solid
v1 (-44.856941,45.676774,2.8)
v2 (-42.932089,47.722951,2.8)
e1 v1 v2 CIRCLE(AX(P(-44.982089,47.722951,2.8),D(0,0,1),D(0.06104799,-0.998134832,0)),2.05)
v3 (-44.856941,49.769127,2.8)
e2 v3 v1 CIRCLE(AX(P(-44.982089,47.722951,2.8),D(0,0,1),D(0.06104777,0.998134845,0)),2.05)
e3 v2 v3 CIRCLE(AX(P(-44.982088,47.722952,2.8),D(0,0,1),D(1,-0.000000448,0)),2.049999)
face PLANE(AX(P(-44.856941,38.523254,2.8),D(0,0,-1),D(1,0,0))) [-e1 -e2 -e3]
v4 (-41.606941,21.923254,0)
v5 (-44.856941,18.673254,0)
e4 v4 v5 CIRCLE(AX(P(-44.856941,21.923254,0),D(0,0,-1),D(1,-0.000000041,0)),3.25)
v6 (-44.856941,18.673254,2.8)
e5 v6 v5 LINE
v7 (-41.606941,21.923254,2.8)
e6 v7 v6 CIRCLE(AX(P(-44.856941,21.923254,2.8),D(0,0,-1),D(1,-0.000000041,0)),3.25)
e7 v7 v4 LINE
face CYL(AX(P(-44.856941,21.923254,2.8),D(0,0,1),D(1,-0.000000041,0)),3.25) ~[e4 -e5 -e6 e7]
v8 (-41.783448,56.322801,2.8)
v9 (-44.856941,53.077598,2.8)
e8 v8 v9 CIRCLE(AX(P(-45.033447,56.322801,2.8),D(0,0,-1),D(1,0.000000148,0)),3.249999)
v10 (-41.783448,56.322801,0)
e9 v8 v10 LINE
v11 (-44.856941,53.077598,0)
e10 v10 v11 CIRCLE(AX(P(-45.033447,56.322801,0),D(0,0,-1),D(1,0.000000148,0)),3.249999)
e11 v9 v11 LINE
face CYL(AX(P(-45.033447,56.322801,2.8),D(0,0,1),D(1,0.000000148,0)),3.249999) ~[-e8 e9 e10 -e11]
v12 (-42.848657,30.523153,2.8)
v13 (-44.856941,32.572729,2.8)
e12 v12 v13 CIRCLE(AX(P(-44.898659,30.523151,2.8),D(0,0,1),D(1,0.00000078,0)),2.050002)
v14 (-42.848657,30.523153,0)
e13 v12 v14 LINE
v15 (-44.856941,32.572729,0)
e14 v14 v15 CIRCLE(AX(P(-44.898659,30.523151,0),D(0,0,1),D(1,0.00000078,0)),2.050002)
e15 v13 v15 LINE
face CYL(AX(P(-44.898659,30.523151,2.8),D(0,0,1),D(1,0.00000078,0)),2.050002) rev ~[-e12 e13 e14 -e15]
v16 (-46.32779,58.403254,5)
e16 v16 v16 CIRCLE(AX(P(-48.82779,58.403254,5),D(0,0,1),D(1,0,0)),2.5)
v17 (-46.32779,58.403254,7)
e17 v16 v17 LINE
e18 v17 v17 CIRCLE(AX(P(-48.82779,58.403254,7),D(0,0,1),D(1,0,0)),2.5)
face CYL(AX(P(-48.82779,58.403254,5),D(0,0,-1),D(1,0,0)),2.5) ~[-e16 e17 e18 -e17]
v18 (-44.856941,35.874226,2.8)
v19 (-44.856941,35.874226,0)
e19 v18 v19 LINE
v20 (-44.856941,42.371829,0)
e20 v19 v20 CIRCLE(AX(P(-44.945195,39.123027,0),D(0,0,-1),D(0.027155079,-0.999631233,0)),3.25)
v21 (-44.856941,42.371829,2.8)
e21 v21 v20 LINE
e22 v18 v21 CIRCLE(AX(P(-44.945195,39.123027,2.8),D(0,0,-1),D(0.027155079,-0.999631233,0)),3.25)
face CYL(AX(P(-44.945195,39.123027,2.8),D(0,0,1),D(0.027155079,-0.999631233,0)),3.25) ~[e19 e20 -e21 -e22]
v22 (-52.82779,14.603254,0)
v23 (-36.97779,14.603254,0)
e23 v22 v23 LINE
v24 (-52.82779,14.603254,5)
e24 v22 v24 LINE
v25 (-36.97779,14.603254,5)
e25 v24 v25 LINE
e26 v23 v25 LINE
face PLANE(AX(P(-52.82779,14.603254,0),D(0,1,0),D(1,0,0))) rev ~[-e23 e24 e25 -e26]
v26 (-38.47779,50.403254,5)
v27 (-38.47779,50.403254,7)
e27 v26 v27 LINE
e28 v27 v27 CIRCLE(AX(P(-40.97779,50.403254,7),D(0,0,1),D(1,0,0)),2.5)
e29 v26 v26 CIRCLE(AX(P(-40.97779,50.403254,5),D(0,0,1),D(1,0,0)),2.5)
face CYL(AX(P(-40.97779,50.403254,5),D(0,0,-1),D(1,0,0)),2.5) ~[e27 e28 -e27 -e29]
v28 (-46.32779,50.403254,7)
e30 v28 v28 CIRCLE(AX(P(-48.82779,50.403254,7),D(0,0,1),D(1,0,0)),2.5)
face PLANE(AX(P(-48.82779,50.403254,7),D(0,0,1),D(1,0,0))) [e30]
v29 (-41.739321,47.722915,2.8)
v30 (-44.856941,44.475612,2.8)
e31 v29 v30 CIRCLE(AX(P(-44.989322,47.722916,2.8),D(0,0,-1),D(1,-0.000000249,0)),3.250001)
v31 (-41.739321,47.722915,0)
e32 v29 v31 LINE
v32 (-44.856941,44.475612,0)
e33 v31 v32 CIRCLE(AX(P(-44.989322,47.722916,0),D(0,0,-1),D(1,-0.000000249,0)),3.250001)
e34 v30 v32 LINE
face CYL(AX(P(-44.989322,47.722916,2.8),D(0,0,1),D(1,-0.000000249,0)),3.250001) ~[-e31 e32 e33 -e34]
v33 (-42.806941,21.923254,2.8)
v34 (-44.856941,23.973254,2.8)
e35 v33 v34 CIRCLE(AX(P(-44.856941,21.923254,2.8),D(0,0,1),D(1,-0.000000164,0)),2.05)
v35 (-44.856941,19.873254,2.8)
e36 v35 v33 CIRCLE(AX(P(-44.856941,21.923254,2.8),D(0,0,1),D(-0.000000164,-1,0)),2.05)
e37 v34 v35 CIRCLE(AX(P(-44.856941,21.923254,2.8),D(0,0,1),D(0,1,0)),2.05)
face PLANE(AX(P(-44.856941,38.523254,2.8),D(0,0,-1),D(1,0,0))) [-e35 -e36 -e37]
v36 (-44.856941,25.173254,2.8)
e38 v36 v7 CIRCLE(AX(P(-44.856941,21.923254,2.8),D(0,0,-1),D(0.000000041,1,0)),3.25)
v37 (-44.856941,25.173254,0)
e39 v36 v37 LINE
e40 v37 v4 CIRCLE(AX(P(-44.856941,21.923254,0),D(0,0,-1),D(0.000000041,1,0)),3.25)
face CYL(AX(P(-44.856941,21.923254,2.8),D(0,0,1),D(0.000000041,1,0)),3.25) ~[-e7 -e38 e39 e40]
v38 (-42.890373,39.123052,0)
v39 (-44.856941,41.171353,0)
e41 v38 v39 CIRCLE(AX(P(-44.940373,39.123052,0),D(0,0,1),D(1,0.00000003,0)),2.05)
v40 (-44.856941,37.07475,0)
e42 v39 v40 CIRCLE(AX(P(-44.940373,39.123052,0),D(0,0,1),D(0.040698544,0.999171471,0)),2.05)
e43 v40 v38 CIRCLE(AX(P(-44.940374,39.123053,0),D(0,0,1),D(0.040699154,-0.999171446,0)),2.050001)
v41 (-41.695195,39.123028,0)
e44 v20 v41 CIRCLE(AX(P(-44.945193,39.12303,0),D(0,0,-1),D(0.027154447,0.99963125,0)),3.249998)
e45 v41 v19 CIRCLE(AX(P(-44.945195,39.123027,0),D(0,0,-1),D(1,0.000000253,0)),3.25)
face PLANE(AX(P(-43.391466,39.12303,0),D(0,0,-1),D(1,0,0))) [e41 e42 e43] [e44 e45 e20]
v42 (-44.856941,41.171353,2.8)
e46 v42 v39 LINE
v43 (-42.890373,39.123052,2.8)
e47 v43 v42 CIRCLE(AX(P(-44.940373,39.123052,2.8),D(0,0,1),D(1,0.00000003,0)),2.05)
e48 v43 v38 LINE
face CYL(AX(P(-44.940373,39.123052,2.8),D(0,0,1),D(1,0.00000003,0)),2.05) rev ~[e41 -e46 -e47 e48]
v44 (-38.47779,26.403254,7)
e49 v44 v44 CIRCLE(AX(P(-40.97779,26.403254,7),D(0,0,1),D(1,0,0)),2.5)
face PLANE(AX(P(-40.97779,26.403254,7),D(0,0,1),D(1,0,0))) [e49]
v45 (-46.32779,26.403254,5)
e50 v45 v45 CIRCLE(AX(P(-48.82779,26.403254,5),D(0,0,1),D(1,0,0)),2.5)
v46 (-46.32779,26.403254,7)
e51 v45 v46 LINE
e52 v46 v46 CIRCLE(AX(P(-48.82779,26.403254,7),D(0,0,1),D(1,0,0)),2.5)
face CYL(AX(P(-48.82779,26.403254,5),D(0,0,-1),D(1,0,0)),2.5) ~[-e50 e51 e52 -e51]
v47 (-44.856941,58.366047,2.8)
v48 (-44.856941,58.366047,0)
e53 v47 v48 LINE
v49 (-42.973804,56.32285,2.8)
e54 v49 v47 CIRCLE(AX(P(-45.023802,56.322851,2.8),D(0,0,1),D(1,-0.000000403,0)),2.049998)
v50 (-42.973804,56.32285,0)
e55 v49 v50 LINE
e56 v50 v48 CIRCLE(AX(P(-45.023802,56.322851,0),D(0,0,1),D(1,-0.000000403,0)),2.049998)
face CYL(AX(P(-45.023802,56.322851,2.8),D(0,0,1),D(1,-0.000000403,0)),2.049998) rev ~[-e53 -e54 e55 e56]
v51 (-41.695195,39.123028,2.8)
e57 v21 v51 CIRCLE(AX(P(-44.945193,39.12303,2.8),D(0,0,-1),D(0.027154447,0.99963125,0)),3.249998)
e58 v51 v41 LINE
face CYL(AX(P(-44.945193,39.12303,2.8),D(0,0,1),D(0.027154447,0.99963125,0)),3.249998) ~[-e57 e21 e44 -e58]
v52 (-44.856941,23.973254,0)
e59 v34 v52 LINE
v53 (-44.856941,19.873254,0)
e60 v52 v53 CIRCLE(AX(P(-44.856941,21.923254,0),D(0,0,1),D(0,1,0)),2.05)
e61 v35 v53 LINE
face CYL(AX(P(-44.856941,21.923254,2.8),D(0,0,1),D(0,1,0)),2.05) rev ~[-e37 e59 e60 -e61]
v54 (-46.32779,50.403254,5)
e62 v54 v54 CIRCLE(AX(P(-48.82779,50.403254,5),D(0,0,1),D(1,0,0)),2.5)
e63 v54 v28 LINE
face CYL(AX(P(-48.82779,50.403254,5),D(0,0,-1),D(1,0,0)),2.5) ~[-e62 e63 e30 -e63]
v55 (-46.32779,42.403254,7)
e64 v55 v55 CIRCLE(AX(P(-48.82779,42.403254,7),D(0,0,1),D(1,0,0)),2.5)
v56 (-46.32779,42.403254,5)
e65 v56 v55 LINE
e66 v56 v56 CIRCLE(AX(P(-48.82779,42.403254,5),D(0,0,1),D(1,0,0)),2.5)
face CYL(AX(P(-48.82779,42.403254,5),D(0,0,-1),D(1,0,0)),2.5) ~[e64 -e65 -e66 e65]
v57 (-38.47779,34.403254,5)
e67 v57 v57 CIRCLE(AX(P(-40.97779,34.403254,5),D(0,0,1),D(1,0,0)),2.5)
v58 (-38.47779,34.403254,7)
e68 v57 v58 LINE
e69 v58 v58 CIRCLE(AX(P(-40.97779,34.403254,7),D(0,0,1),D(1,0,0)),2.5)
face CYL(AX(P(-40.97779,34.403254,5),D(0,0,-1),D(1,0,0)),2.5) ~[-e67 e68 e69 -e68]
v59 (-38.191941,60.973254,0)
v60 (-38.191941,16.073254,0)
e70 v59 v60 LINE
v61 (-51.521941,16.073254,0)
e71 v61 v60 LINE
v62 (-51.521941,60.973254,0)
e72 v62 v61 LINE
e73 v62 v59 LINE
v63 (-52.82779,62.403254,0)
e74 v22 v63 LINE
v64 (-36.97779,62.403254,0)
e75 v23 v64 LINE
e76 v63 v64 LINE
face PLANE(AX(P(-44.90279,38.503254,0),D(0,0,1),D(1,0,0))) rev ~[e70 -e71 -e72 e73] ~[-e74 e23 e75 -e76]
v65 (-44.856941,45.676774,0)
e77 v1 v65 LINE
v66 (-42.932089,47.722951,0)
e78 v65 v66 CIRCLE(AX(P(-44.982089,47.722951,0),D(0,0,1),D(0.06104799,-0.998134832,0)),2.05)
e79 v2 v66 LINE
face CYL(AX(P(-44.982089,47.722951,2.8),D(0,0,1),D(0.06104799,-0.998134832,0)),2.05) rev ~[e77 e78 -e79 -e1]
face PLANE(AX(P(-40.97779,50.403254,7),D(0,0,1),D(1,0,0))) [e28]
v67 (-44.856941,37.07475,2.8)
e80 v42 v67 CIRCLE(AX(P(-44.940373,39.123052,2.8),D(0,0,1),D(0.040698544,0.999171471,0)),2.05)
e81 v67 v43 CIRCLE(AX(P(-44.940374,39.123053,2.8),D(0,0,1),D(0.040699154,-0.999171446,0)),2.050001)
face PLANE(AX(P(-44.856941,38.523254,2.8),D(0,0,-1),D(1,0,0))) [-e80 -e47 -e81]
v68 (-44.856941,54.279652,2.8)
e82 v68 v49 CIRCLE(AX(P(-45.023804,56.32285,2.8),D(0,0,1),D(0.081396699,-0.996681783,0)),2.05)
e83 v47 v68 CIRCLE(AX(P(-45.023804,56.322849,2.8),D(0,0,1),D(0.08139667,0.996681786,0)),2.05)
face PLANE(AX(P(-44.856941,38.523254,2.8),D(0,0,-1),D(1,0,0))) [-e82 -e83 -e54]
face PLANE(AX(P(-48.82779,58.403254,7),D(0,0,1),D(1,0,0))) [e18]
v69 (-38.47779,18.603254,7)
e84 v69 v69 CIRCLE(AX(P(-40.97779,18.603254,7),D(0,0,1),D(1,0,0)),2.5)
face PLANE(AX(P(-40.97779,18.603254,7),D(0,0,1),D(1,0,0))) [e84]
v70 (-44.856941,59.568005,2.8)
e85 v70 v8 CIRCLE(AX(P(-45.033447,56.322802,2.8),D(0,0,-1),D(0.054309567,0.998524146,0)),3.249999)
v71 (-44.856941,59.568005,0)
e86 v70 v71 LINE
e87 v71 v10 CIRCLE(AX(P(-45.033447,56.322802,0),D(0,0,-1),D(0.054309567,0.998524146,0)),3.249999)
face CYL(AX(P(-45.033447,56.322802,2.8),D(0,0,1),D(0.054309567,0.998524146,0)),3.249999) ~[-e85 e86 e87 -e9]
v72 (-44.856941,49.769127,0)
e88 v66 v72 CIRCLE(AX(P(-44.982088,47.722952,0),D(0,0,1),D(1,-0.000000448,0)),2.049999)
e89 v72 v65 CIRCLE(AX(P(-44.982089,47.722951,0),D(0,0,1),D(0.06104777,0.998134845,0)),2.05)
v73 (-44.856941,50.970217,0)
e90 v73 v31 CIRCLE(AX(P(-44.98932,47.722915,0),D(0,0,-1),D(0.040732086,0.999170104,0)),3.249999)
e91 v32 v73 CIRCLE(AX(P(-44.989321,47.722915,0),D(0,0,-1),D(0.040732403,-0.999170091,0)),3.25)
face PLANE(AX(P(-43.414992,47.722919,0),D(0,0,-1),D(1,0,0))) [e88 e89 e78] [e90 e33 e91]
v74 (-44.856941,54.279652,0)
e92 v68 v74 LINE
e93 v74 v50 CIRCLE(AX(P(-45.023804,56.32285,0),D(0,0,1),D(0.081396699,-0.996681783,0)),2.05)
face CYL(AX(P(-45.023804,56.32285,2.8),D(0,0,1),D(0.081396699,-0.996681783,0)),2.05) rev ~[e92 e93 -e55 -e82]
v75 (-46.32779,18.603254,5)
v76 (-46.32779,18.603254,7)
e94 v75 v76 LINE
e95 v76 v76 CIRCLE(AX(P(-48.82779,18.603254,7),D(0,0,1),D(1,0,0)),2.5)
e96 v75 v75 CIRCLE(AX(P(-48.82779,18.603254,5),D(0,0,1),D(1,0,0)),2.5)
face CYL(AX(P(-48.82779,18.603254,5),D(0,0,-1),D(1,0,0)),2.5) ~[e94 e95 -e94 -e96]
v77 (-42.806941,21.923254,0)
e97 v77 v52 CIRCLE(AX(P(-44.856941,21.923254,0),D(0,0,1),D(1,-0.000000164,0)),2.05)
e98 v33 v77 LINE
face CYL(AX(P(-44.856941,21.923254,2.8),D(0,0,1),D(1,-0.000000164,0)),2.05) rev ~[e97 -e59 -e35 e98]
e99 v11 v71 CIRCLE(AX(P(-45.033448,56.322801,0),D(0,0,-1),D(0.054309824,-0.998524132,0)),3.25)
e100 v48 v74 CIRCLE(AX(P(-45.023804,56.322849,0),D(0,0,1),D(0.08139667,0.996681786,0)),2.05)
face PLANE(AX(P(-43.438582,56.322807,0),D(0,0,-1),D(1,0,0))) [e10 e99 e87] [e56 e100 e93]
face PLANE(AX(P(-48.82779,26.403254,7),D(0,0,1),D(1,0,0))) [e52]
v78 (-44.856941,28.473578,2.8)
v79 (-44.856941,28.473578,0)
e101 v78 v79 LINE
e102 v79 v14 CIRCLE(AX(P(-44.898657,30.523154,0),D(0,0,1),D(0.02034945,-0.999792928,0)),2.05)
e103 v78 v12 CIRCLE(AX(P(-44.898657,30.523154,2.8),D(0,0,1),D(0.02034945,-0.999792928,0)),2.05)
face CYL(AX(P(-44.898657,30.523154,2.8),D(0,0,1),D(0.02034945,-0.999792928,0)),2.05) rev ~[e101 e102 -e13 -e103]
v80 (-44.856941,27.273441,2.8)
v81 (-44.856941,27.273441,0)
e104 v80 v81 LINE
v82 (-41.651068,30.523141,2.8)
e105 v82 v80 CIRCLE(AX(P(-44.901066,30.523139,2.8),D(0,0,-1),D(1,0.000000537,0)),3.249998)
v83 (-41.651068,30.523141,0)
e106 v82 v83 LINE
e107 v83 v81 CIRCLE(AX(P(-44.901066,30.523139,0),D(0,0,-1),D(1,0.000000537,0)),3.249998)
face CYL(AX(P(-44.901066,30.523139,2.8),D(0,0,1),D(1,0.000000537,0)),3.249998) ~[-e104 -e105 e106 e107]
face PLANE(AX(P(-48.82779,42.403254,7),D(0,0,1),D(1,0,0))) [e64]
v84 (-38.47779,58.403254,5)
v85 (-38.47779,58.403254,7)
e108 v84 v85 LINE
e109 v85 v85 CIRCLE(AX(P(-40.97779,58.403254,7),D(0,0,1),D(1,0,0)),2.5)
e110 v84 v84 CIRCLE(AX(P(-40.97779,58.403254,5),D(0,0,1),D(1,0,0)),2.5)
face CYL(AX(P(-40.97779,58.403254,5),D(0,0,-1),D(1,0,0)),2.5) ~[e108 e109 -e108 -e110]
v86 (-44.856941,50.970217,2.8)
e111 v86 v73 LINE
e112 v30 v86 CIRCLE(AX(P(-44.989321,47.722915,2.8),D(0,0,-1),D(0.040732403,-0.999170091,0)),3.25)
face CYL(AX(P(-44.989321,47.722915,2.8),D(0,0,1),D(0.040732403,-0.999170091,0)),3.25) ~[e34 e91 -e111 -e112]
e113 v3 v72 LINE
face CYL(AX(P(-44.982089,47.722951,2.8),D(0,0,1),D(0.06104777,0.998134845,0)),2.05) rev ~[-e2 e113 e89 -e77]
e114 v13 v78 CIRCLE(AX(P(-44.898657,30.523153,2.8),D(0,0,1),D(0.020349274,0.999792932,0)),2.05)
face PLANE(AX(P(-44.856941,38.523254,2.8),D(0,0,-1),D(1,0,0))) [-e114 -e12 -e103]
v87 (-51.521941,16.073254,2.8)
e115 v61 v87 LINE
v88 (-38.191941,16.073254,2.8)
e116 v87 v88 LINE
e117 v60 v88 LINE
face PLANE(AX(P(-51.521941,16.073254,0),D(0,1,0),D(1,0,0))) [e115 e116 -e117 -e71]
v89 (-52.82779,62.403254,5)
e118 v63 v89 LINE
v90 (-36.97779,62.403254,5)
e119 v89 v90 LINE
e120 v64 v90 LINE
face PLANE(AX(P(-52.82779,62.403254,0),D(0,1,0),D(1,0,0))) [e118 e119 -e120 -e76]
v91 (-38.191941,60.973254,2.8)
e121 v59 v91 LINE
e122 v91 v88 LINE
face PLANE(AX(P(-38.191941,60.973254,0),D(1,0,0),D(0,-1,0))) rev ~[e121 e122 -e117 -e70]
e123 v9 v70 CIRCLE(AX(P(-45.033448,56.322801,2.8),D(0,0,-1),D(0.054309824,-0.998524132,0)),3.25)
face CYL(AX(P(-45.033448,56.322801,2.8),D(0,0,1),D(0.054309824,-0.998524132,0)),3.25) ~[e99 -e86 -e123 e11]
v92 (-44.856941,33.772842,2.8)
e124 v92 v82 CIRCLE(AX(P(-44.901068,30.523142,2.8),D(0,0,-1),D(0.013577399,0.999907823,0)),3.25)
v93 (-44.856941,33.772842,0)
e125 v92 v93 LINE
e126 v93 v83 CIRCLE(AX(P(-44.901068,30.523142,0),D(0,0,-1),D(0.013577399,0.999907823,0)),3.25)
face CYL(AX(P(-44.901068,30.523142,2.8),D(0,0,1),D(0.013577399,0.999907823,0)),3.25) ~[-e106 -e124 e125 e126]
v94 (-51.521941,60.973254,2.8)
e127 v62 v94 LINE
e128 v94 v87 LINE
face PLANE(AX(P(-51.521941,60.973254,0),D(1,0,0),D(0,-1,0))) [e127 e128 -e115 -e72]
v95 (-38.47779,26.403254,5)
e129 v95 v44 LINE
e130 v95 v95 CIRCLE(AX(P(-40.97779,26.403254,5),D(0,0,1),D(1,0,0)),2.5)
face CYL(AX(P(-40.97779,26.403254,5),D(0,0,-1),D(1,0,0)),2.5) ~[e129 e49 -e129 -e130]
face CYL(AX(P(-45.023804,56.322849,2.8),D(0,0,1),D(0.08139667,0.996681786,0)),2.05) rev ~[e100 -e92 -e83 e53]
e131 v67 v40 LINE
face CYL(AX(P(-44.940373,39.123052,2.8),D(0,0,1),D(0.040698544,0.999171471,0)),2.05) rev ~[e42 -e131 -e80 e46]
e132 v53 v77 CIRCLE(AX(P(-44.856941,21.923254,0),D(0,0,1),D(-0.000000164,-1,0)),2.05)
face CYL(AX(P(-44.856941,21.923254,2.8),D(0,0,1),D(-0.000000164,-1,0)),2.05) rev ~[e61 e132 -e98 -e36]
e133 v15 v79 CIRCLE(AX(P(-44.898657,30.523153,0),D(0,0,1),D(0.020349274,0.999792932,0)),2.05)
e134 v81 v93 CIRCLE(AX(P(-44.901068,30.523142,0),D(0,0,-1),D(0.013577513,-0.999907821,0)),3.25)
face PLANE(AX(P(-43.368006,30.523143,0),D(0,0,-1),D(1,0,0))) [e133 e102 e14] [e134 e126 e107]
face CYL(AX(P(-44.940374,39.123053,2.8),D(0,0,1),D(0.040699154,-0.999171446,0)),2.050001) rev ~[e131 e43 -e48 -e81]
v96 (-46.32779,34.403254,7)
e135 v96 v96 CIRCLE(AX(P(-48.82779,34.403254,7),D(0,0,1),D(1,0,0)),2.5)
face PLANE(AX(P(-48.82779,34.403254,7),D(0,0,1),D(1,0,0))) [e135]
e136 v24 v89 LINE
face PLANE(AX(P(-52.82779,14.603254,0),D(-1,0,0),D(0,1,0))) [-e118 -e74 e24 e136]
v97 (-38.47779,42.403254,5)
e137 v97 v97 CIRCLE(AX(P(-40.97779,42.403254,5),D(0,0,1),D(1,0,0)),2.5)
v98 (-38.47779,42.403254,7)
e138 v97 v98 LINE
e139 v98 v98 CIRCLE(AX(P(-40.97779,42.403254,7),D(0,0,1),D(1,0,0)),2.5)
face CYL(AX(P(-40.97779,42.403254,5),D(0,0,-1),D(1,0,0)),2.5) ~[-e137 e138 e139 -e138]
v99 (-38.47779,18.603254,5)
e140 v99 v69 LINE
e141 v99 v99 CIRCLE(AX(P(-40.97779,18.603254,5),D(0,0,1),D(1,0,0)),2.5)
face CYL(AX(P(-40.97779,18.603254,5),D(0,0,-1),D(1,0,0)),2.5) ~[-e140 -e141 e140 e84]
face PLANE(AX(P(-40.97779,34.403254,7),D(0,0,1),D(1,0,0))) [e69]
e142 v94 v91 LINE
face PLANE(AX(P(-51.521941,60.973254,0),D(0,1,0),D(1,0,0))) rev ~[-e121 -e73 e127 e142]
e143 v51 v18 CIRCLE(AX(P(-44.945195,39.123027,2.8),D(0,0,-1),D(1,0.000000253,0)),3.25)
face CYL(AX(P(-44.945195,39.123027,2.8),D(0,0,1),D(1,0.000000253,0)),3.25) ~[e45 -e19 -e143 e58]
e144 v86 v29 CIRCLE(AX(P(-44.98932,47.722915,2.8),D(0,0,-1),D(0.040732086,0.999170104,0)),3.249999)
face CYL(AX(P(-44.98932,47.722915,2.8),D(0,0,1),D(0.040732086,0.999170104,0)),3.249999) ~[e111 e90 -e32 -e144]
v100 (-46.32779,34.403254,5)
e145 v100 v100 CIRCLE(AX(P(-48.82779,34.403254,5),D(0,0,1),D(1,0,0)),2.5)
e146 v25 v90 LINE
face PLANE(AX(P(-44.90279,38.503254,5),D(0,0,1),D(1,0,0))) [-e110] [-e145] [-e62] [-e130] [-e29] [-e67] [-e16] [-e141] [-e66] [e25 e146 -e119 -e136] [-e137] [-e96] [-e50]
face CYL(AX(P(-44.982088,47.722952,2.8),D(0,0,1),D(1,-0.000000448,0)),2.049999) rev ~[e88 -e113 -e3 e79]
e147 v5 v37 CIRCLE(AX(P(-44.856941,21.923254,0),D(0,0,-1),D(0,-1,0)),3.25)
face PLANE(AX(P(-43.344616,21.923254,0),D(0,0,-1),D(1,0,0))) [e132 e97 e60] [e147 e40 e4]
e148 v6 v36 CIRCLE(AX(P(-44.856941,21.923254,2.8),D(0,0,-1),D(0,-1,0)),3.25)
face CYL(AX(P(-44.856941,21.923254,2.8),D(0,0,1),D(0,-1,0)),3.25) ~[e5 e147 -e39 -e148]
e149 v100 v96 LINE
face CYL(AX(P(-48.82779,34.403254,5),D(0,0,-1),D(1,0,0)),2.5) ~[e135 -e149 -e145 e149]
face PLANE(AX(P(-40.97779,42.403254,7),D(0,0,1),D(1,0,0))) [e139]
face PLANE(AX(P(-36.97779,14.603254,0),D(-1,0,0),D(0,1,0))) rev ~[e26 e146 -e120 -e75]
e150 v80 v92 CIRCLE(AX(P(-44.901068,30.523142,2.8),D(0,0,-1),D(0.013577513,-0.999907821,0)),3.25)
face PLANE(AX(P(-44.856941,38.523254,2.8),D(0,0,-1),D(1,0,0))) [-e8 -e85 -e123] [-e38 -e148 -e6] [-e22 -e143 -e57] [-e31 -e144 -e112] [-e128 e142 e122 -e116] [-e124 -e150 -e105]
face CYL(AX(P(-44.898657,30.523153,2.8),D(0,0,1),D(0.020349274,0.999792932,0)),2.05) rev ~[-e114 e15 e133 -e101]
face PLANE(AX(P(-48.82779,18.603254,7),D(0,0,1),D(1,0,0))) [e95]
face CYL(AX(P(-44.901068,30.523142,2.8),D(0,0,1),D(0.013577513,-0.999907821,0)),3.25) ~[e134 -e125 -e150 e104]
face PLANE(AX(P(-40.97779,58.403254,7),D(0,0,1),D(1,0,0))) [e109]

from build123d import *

# Parameters (mm, degrees)
F0_W     = 15.85
F0_H     = 47.8
F1_DEPTH = 5
F2_R     = 2.5
F3_DEPTH = 2
F4_W     = 13.33
F4_H     = 44.9
F5_DEPTH = 2.8
F7_DEPTH = 2.8


with BuildPart() as f1:
    # F0 (on Top) → F1 (new body)
    with BuildSketch(Plane.XY):
        with Locations((-44.90279, 38.503254)):
            Rectangle(F0_W, F0_H)
    extrude(amount=F1_DEPTH)

    # F2 (on face) → F3 (join)
    with BuildSketch(Plane.XY.offset(5)):
        with Locations((-48.82779, 58.403254)):
            Circle(F2_R)
        with Locations((-40.97779, 58.403254)):
            Circle(F2_R)
        with Locations((-48.82779, 18.603254)):
            Circle(F2_R)
        with Locations((-40.97779, 18.603254)):
            Circle(F2_R)
        with Locations((-48.82779, 50.403254)):
            Circle(F2_R)
        with Locations((-40.97779, 50.403254)):
            Circle(F2_R)
        with Locations((-48.82779, 26.403254)):
            Circle(F2_R)
        with Locations((-40.97779, 26.403254)):
            Circle(F2_R)
        with Locations((-48.82779, 42.403254)):
            Circle(F2_R)
        with Locations((-40.97779, 42.403254)):
            Circle(F2_R)
        with Locations((-48.82779, 34.403254)):
            Circle(F2_R)
        with Locations((-40.97779, 34.403254)):
            Circle(F2_R)
    extrude(amount=F3_DEPTH)

    # F4 (on face) → F5 (cut)
    with BuildSketch(Plane(origin=(0, 0, 0), x_dir=(1, 0, 0), z_dir=(0, 0, -1))):
        with Locations((-44.856941, -38.523254)):
            Rectangle(F4_W, F4_H)
    extrude(amount=-F5_DEPTH, mode=Mode.SUBTRACT)

    # F6 (on face) → F7 (join)
    with BuildSketch(Plane(origin=(0, 0, 2.8), x_dir=(1, 0, 0), z_dir=(0, 0, -1))):
        with BuildLine():
            ThreePointArc((-41.606941, -21.923254), (-42.558844, -19.625157), (-44.856941, -18.673254))
            Line((-44.856941, -18.673254), (-44.856941, -19.873254))
            ThreePointArc((-44.856941, -19.873254), (-43.407372, -20.473685), (-42.806941, -21.923254))
            ThreePointArc((-42.806941, -21.923254), (-43.407372, -23.372823), (-44.856941, -23.973254))
            Line((-44.856941, -23.973254), (-44.856941, -25.173254))
            ThreePointArc((-44.856941, -25.173254), (-42.558844, -24.221351), (-41.606941, -21.923254))
        make_face()
        with BuildLine():
            ThreePointArc((-41.783448, -56.322801), (-42.673771, -54.08798), (-44.856941, -53.077598))
            Line((-44.856941, -53.077598), (-44.856941, -54.279652))
            ThreePointArc((-44.856941, -54.279652), (-43.516394, -54.933528), (-42.973804, -56.32285))
            ThreePointArc((-42.973804, -56.32285), (-43.516394, -57.712172), (-44.856941, -58.366047))
            Line((-44.856941, -58.366047), (-44.856941, -59.568005))
            ThreePointArc((-44.856941, -59.568005), (-42.673771, -58.557623), (-41.783448, -56.322801))
        make_face()
        with BuildLine():
            Line((-44.856941, -54.279652), (-44.856941, -53.077598))
            ThreePointArc((-44.856941, -53.077598), (-48.283448, -56.322801), (-44.856941, -59.568005))
            Line((-44.856941, -59.568005), (-44.856941, -58.366047))
            ThreePointArc((-44.856941, -58.366047), (-47.073804, -56.32285), (-44.856941, -54.279652))
        make_face()
        with BuildLine():
            ThreePointArc((-41.739321, -47.722915), (-42.644888, -45.472108), (-44.856941, -44.475612))
            Line((-44.856941, -44.475612), (-44.856941, -45.676774))
            ThreePointArc((-44.856941, -45.676774), (-43.488929, -46.318325), (-42.932089, -47.722951))
            ThreePointArc((-42.932089, -47.722951), (-43.488929, -49.127577), (-44.856941, -49.769127))
            Line((-44.856941, -49.769127), (-44.856941, -50.970217))
            ThreePointArc((-44.856941, -50.970217), (-42.644888, -49.973722), (-41.739321, -47.722915))
        make_face()
        with BuildLine():
            Line((-44.856941, -45.676774), (-44.856941, -44.475612))
            ThreePointArc((-44.856941, -44.475612), (-48.239321, -47.722915), (-44.856941, -50.970217))
            Line((-44.856941, -50.970217), (-44.856941, -49.769127))
            ThreePointArc((-44.856941, -49.769127), (-47.032089, -47.722951), (-44.856941, -45.676774))
        make_face()
        with BuildLine():
            ThreePointArc((-41.695195, -39.123028), (-42.616104, -36.856348), (-44.856941, -35.874226))
            Line((-44.856941, -35.874226), (-44.856941, -37.07475))
            ThreePointArc((-44.856941, -37.07475), (-43.461601, -37.703287), (-42.890373, -39.123052))
            ThreePointArc((-42.890373, -39.123052), (-43.461601, -40.542817), (-44.856941, -41.171353))
            Line((-44.856941, -41.171353), (-44.856941, -42.371829))
            ThreePointArc((-44.856941, -42.371829), (-42.616104, -41.389708), (-41.695195, -39.123028))
        make_face()
        with BuildLine():
            Line((-44.856941, -37.07475), (-44.856941, -35.874226))
            ThreePointArc((-44.856941, -35.874226), (-48.195195, -39.123028), (-44.856941, -42.371829))
            Line((-44.856941, -42.371829), (-44.856941, -41.171353))
            ThreePointArc((-44.856941, -41.171353), (-46.990373, -39.123052), (-44.856941, -37.07475))
        make_face()
        with BuildLine():
            ThreePointArc((-41.651068, -30.523141), (-42.587422, -28.240698), (-44.856941, -27.273441))
            Line((-44.856941, -27.273441), (-44.856941, -28.473578))
            ThreePointArc((-44.856941, -28.473578), (-43.434414, -29.088409), (-42.848657, -30.523153))
            ThreePointArc((-42.848657, -30.523153), (-43.434414, -31.957897), (-44.856941, -32.572729))
            Line((-44.856941, -32.572729), (-44.856941, -33.772842))
            ThreePointArc((-44.856941, -33.772842), (-42.587422, -32.805584), (-41.651068, -30.523141))
        make_face()
        with BuildLine():
            Line((-44.856941, -28.473578), (-44.856941, -27.273441))
            ThreePointArc((-44.856941, -27.273441), (-48.151068, -30.523141), (-44.856941, -33.772842))
            Line((-44.856941, -33.772842), (-44.856941, -32.572729))
            ThreePointArc((-44.856941, -32.572729), (-46.948657, -30.523153), (-44.856941, -28.473578))
        make_face()
        with BuildLine():
            Line((-44.856941, -19.873254), (-44.856941, -18.673254))
            ThreePointArc((-44.856941, -18.673254), (-48.106941, -21.923254), (-44.856941, -25.173254))
            Line((-44.856941, -25.173254), (-44.856941, -23.973254))
            ThreePointArc((-44.856941, -23.973254), (-46.906941, -21.923254), (-44.856941, -19.873254))
        make_face()
    extrude(amount=F7_DEPTH)


solid = f1.part
